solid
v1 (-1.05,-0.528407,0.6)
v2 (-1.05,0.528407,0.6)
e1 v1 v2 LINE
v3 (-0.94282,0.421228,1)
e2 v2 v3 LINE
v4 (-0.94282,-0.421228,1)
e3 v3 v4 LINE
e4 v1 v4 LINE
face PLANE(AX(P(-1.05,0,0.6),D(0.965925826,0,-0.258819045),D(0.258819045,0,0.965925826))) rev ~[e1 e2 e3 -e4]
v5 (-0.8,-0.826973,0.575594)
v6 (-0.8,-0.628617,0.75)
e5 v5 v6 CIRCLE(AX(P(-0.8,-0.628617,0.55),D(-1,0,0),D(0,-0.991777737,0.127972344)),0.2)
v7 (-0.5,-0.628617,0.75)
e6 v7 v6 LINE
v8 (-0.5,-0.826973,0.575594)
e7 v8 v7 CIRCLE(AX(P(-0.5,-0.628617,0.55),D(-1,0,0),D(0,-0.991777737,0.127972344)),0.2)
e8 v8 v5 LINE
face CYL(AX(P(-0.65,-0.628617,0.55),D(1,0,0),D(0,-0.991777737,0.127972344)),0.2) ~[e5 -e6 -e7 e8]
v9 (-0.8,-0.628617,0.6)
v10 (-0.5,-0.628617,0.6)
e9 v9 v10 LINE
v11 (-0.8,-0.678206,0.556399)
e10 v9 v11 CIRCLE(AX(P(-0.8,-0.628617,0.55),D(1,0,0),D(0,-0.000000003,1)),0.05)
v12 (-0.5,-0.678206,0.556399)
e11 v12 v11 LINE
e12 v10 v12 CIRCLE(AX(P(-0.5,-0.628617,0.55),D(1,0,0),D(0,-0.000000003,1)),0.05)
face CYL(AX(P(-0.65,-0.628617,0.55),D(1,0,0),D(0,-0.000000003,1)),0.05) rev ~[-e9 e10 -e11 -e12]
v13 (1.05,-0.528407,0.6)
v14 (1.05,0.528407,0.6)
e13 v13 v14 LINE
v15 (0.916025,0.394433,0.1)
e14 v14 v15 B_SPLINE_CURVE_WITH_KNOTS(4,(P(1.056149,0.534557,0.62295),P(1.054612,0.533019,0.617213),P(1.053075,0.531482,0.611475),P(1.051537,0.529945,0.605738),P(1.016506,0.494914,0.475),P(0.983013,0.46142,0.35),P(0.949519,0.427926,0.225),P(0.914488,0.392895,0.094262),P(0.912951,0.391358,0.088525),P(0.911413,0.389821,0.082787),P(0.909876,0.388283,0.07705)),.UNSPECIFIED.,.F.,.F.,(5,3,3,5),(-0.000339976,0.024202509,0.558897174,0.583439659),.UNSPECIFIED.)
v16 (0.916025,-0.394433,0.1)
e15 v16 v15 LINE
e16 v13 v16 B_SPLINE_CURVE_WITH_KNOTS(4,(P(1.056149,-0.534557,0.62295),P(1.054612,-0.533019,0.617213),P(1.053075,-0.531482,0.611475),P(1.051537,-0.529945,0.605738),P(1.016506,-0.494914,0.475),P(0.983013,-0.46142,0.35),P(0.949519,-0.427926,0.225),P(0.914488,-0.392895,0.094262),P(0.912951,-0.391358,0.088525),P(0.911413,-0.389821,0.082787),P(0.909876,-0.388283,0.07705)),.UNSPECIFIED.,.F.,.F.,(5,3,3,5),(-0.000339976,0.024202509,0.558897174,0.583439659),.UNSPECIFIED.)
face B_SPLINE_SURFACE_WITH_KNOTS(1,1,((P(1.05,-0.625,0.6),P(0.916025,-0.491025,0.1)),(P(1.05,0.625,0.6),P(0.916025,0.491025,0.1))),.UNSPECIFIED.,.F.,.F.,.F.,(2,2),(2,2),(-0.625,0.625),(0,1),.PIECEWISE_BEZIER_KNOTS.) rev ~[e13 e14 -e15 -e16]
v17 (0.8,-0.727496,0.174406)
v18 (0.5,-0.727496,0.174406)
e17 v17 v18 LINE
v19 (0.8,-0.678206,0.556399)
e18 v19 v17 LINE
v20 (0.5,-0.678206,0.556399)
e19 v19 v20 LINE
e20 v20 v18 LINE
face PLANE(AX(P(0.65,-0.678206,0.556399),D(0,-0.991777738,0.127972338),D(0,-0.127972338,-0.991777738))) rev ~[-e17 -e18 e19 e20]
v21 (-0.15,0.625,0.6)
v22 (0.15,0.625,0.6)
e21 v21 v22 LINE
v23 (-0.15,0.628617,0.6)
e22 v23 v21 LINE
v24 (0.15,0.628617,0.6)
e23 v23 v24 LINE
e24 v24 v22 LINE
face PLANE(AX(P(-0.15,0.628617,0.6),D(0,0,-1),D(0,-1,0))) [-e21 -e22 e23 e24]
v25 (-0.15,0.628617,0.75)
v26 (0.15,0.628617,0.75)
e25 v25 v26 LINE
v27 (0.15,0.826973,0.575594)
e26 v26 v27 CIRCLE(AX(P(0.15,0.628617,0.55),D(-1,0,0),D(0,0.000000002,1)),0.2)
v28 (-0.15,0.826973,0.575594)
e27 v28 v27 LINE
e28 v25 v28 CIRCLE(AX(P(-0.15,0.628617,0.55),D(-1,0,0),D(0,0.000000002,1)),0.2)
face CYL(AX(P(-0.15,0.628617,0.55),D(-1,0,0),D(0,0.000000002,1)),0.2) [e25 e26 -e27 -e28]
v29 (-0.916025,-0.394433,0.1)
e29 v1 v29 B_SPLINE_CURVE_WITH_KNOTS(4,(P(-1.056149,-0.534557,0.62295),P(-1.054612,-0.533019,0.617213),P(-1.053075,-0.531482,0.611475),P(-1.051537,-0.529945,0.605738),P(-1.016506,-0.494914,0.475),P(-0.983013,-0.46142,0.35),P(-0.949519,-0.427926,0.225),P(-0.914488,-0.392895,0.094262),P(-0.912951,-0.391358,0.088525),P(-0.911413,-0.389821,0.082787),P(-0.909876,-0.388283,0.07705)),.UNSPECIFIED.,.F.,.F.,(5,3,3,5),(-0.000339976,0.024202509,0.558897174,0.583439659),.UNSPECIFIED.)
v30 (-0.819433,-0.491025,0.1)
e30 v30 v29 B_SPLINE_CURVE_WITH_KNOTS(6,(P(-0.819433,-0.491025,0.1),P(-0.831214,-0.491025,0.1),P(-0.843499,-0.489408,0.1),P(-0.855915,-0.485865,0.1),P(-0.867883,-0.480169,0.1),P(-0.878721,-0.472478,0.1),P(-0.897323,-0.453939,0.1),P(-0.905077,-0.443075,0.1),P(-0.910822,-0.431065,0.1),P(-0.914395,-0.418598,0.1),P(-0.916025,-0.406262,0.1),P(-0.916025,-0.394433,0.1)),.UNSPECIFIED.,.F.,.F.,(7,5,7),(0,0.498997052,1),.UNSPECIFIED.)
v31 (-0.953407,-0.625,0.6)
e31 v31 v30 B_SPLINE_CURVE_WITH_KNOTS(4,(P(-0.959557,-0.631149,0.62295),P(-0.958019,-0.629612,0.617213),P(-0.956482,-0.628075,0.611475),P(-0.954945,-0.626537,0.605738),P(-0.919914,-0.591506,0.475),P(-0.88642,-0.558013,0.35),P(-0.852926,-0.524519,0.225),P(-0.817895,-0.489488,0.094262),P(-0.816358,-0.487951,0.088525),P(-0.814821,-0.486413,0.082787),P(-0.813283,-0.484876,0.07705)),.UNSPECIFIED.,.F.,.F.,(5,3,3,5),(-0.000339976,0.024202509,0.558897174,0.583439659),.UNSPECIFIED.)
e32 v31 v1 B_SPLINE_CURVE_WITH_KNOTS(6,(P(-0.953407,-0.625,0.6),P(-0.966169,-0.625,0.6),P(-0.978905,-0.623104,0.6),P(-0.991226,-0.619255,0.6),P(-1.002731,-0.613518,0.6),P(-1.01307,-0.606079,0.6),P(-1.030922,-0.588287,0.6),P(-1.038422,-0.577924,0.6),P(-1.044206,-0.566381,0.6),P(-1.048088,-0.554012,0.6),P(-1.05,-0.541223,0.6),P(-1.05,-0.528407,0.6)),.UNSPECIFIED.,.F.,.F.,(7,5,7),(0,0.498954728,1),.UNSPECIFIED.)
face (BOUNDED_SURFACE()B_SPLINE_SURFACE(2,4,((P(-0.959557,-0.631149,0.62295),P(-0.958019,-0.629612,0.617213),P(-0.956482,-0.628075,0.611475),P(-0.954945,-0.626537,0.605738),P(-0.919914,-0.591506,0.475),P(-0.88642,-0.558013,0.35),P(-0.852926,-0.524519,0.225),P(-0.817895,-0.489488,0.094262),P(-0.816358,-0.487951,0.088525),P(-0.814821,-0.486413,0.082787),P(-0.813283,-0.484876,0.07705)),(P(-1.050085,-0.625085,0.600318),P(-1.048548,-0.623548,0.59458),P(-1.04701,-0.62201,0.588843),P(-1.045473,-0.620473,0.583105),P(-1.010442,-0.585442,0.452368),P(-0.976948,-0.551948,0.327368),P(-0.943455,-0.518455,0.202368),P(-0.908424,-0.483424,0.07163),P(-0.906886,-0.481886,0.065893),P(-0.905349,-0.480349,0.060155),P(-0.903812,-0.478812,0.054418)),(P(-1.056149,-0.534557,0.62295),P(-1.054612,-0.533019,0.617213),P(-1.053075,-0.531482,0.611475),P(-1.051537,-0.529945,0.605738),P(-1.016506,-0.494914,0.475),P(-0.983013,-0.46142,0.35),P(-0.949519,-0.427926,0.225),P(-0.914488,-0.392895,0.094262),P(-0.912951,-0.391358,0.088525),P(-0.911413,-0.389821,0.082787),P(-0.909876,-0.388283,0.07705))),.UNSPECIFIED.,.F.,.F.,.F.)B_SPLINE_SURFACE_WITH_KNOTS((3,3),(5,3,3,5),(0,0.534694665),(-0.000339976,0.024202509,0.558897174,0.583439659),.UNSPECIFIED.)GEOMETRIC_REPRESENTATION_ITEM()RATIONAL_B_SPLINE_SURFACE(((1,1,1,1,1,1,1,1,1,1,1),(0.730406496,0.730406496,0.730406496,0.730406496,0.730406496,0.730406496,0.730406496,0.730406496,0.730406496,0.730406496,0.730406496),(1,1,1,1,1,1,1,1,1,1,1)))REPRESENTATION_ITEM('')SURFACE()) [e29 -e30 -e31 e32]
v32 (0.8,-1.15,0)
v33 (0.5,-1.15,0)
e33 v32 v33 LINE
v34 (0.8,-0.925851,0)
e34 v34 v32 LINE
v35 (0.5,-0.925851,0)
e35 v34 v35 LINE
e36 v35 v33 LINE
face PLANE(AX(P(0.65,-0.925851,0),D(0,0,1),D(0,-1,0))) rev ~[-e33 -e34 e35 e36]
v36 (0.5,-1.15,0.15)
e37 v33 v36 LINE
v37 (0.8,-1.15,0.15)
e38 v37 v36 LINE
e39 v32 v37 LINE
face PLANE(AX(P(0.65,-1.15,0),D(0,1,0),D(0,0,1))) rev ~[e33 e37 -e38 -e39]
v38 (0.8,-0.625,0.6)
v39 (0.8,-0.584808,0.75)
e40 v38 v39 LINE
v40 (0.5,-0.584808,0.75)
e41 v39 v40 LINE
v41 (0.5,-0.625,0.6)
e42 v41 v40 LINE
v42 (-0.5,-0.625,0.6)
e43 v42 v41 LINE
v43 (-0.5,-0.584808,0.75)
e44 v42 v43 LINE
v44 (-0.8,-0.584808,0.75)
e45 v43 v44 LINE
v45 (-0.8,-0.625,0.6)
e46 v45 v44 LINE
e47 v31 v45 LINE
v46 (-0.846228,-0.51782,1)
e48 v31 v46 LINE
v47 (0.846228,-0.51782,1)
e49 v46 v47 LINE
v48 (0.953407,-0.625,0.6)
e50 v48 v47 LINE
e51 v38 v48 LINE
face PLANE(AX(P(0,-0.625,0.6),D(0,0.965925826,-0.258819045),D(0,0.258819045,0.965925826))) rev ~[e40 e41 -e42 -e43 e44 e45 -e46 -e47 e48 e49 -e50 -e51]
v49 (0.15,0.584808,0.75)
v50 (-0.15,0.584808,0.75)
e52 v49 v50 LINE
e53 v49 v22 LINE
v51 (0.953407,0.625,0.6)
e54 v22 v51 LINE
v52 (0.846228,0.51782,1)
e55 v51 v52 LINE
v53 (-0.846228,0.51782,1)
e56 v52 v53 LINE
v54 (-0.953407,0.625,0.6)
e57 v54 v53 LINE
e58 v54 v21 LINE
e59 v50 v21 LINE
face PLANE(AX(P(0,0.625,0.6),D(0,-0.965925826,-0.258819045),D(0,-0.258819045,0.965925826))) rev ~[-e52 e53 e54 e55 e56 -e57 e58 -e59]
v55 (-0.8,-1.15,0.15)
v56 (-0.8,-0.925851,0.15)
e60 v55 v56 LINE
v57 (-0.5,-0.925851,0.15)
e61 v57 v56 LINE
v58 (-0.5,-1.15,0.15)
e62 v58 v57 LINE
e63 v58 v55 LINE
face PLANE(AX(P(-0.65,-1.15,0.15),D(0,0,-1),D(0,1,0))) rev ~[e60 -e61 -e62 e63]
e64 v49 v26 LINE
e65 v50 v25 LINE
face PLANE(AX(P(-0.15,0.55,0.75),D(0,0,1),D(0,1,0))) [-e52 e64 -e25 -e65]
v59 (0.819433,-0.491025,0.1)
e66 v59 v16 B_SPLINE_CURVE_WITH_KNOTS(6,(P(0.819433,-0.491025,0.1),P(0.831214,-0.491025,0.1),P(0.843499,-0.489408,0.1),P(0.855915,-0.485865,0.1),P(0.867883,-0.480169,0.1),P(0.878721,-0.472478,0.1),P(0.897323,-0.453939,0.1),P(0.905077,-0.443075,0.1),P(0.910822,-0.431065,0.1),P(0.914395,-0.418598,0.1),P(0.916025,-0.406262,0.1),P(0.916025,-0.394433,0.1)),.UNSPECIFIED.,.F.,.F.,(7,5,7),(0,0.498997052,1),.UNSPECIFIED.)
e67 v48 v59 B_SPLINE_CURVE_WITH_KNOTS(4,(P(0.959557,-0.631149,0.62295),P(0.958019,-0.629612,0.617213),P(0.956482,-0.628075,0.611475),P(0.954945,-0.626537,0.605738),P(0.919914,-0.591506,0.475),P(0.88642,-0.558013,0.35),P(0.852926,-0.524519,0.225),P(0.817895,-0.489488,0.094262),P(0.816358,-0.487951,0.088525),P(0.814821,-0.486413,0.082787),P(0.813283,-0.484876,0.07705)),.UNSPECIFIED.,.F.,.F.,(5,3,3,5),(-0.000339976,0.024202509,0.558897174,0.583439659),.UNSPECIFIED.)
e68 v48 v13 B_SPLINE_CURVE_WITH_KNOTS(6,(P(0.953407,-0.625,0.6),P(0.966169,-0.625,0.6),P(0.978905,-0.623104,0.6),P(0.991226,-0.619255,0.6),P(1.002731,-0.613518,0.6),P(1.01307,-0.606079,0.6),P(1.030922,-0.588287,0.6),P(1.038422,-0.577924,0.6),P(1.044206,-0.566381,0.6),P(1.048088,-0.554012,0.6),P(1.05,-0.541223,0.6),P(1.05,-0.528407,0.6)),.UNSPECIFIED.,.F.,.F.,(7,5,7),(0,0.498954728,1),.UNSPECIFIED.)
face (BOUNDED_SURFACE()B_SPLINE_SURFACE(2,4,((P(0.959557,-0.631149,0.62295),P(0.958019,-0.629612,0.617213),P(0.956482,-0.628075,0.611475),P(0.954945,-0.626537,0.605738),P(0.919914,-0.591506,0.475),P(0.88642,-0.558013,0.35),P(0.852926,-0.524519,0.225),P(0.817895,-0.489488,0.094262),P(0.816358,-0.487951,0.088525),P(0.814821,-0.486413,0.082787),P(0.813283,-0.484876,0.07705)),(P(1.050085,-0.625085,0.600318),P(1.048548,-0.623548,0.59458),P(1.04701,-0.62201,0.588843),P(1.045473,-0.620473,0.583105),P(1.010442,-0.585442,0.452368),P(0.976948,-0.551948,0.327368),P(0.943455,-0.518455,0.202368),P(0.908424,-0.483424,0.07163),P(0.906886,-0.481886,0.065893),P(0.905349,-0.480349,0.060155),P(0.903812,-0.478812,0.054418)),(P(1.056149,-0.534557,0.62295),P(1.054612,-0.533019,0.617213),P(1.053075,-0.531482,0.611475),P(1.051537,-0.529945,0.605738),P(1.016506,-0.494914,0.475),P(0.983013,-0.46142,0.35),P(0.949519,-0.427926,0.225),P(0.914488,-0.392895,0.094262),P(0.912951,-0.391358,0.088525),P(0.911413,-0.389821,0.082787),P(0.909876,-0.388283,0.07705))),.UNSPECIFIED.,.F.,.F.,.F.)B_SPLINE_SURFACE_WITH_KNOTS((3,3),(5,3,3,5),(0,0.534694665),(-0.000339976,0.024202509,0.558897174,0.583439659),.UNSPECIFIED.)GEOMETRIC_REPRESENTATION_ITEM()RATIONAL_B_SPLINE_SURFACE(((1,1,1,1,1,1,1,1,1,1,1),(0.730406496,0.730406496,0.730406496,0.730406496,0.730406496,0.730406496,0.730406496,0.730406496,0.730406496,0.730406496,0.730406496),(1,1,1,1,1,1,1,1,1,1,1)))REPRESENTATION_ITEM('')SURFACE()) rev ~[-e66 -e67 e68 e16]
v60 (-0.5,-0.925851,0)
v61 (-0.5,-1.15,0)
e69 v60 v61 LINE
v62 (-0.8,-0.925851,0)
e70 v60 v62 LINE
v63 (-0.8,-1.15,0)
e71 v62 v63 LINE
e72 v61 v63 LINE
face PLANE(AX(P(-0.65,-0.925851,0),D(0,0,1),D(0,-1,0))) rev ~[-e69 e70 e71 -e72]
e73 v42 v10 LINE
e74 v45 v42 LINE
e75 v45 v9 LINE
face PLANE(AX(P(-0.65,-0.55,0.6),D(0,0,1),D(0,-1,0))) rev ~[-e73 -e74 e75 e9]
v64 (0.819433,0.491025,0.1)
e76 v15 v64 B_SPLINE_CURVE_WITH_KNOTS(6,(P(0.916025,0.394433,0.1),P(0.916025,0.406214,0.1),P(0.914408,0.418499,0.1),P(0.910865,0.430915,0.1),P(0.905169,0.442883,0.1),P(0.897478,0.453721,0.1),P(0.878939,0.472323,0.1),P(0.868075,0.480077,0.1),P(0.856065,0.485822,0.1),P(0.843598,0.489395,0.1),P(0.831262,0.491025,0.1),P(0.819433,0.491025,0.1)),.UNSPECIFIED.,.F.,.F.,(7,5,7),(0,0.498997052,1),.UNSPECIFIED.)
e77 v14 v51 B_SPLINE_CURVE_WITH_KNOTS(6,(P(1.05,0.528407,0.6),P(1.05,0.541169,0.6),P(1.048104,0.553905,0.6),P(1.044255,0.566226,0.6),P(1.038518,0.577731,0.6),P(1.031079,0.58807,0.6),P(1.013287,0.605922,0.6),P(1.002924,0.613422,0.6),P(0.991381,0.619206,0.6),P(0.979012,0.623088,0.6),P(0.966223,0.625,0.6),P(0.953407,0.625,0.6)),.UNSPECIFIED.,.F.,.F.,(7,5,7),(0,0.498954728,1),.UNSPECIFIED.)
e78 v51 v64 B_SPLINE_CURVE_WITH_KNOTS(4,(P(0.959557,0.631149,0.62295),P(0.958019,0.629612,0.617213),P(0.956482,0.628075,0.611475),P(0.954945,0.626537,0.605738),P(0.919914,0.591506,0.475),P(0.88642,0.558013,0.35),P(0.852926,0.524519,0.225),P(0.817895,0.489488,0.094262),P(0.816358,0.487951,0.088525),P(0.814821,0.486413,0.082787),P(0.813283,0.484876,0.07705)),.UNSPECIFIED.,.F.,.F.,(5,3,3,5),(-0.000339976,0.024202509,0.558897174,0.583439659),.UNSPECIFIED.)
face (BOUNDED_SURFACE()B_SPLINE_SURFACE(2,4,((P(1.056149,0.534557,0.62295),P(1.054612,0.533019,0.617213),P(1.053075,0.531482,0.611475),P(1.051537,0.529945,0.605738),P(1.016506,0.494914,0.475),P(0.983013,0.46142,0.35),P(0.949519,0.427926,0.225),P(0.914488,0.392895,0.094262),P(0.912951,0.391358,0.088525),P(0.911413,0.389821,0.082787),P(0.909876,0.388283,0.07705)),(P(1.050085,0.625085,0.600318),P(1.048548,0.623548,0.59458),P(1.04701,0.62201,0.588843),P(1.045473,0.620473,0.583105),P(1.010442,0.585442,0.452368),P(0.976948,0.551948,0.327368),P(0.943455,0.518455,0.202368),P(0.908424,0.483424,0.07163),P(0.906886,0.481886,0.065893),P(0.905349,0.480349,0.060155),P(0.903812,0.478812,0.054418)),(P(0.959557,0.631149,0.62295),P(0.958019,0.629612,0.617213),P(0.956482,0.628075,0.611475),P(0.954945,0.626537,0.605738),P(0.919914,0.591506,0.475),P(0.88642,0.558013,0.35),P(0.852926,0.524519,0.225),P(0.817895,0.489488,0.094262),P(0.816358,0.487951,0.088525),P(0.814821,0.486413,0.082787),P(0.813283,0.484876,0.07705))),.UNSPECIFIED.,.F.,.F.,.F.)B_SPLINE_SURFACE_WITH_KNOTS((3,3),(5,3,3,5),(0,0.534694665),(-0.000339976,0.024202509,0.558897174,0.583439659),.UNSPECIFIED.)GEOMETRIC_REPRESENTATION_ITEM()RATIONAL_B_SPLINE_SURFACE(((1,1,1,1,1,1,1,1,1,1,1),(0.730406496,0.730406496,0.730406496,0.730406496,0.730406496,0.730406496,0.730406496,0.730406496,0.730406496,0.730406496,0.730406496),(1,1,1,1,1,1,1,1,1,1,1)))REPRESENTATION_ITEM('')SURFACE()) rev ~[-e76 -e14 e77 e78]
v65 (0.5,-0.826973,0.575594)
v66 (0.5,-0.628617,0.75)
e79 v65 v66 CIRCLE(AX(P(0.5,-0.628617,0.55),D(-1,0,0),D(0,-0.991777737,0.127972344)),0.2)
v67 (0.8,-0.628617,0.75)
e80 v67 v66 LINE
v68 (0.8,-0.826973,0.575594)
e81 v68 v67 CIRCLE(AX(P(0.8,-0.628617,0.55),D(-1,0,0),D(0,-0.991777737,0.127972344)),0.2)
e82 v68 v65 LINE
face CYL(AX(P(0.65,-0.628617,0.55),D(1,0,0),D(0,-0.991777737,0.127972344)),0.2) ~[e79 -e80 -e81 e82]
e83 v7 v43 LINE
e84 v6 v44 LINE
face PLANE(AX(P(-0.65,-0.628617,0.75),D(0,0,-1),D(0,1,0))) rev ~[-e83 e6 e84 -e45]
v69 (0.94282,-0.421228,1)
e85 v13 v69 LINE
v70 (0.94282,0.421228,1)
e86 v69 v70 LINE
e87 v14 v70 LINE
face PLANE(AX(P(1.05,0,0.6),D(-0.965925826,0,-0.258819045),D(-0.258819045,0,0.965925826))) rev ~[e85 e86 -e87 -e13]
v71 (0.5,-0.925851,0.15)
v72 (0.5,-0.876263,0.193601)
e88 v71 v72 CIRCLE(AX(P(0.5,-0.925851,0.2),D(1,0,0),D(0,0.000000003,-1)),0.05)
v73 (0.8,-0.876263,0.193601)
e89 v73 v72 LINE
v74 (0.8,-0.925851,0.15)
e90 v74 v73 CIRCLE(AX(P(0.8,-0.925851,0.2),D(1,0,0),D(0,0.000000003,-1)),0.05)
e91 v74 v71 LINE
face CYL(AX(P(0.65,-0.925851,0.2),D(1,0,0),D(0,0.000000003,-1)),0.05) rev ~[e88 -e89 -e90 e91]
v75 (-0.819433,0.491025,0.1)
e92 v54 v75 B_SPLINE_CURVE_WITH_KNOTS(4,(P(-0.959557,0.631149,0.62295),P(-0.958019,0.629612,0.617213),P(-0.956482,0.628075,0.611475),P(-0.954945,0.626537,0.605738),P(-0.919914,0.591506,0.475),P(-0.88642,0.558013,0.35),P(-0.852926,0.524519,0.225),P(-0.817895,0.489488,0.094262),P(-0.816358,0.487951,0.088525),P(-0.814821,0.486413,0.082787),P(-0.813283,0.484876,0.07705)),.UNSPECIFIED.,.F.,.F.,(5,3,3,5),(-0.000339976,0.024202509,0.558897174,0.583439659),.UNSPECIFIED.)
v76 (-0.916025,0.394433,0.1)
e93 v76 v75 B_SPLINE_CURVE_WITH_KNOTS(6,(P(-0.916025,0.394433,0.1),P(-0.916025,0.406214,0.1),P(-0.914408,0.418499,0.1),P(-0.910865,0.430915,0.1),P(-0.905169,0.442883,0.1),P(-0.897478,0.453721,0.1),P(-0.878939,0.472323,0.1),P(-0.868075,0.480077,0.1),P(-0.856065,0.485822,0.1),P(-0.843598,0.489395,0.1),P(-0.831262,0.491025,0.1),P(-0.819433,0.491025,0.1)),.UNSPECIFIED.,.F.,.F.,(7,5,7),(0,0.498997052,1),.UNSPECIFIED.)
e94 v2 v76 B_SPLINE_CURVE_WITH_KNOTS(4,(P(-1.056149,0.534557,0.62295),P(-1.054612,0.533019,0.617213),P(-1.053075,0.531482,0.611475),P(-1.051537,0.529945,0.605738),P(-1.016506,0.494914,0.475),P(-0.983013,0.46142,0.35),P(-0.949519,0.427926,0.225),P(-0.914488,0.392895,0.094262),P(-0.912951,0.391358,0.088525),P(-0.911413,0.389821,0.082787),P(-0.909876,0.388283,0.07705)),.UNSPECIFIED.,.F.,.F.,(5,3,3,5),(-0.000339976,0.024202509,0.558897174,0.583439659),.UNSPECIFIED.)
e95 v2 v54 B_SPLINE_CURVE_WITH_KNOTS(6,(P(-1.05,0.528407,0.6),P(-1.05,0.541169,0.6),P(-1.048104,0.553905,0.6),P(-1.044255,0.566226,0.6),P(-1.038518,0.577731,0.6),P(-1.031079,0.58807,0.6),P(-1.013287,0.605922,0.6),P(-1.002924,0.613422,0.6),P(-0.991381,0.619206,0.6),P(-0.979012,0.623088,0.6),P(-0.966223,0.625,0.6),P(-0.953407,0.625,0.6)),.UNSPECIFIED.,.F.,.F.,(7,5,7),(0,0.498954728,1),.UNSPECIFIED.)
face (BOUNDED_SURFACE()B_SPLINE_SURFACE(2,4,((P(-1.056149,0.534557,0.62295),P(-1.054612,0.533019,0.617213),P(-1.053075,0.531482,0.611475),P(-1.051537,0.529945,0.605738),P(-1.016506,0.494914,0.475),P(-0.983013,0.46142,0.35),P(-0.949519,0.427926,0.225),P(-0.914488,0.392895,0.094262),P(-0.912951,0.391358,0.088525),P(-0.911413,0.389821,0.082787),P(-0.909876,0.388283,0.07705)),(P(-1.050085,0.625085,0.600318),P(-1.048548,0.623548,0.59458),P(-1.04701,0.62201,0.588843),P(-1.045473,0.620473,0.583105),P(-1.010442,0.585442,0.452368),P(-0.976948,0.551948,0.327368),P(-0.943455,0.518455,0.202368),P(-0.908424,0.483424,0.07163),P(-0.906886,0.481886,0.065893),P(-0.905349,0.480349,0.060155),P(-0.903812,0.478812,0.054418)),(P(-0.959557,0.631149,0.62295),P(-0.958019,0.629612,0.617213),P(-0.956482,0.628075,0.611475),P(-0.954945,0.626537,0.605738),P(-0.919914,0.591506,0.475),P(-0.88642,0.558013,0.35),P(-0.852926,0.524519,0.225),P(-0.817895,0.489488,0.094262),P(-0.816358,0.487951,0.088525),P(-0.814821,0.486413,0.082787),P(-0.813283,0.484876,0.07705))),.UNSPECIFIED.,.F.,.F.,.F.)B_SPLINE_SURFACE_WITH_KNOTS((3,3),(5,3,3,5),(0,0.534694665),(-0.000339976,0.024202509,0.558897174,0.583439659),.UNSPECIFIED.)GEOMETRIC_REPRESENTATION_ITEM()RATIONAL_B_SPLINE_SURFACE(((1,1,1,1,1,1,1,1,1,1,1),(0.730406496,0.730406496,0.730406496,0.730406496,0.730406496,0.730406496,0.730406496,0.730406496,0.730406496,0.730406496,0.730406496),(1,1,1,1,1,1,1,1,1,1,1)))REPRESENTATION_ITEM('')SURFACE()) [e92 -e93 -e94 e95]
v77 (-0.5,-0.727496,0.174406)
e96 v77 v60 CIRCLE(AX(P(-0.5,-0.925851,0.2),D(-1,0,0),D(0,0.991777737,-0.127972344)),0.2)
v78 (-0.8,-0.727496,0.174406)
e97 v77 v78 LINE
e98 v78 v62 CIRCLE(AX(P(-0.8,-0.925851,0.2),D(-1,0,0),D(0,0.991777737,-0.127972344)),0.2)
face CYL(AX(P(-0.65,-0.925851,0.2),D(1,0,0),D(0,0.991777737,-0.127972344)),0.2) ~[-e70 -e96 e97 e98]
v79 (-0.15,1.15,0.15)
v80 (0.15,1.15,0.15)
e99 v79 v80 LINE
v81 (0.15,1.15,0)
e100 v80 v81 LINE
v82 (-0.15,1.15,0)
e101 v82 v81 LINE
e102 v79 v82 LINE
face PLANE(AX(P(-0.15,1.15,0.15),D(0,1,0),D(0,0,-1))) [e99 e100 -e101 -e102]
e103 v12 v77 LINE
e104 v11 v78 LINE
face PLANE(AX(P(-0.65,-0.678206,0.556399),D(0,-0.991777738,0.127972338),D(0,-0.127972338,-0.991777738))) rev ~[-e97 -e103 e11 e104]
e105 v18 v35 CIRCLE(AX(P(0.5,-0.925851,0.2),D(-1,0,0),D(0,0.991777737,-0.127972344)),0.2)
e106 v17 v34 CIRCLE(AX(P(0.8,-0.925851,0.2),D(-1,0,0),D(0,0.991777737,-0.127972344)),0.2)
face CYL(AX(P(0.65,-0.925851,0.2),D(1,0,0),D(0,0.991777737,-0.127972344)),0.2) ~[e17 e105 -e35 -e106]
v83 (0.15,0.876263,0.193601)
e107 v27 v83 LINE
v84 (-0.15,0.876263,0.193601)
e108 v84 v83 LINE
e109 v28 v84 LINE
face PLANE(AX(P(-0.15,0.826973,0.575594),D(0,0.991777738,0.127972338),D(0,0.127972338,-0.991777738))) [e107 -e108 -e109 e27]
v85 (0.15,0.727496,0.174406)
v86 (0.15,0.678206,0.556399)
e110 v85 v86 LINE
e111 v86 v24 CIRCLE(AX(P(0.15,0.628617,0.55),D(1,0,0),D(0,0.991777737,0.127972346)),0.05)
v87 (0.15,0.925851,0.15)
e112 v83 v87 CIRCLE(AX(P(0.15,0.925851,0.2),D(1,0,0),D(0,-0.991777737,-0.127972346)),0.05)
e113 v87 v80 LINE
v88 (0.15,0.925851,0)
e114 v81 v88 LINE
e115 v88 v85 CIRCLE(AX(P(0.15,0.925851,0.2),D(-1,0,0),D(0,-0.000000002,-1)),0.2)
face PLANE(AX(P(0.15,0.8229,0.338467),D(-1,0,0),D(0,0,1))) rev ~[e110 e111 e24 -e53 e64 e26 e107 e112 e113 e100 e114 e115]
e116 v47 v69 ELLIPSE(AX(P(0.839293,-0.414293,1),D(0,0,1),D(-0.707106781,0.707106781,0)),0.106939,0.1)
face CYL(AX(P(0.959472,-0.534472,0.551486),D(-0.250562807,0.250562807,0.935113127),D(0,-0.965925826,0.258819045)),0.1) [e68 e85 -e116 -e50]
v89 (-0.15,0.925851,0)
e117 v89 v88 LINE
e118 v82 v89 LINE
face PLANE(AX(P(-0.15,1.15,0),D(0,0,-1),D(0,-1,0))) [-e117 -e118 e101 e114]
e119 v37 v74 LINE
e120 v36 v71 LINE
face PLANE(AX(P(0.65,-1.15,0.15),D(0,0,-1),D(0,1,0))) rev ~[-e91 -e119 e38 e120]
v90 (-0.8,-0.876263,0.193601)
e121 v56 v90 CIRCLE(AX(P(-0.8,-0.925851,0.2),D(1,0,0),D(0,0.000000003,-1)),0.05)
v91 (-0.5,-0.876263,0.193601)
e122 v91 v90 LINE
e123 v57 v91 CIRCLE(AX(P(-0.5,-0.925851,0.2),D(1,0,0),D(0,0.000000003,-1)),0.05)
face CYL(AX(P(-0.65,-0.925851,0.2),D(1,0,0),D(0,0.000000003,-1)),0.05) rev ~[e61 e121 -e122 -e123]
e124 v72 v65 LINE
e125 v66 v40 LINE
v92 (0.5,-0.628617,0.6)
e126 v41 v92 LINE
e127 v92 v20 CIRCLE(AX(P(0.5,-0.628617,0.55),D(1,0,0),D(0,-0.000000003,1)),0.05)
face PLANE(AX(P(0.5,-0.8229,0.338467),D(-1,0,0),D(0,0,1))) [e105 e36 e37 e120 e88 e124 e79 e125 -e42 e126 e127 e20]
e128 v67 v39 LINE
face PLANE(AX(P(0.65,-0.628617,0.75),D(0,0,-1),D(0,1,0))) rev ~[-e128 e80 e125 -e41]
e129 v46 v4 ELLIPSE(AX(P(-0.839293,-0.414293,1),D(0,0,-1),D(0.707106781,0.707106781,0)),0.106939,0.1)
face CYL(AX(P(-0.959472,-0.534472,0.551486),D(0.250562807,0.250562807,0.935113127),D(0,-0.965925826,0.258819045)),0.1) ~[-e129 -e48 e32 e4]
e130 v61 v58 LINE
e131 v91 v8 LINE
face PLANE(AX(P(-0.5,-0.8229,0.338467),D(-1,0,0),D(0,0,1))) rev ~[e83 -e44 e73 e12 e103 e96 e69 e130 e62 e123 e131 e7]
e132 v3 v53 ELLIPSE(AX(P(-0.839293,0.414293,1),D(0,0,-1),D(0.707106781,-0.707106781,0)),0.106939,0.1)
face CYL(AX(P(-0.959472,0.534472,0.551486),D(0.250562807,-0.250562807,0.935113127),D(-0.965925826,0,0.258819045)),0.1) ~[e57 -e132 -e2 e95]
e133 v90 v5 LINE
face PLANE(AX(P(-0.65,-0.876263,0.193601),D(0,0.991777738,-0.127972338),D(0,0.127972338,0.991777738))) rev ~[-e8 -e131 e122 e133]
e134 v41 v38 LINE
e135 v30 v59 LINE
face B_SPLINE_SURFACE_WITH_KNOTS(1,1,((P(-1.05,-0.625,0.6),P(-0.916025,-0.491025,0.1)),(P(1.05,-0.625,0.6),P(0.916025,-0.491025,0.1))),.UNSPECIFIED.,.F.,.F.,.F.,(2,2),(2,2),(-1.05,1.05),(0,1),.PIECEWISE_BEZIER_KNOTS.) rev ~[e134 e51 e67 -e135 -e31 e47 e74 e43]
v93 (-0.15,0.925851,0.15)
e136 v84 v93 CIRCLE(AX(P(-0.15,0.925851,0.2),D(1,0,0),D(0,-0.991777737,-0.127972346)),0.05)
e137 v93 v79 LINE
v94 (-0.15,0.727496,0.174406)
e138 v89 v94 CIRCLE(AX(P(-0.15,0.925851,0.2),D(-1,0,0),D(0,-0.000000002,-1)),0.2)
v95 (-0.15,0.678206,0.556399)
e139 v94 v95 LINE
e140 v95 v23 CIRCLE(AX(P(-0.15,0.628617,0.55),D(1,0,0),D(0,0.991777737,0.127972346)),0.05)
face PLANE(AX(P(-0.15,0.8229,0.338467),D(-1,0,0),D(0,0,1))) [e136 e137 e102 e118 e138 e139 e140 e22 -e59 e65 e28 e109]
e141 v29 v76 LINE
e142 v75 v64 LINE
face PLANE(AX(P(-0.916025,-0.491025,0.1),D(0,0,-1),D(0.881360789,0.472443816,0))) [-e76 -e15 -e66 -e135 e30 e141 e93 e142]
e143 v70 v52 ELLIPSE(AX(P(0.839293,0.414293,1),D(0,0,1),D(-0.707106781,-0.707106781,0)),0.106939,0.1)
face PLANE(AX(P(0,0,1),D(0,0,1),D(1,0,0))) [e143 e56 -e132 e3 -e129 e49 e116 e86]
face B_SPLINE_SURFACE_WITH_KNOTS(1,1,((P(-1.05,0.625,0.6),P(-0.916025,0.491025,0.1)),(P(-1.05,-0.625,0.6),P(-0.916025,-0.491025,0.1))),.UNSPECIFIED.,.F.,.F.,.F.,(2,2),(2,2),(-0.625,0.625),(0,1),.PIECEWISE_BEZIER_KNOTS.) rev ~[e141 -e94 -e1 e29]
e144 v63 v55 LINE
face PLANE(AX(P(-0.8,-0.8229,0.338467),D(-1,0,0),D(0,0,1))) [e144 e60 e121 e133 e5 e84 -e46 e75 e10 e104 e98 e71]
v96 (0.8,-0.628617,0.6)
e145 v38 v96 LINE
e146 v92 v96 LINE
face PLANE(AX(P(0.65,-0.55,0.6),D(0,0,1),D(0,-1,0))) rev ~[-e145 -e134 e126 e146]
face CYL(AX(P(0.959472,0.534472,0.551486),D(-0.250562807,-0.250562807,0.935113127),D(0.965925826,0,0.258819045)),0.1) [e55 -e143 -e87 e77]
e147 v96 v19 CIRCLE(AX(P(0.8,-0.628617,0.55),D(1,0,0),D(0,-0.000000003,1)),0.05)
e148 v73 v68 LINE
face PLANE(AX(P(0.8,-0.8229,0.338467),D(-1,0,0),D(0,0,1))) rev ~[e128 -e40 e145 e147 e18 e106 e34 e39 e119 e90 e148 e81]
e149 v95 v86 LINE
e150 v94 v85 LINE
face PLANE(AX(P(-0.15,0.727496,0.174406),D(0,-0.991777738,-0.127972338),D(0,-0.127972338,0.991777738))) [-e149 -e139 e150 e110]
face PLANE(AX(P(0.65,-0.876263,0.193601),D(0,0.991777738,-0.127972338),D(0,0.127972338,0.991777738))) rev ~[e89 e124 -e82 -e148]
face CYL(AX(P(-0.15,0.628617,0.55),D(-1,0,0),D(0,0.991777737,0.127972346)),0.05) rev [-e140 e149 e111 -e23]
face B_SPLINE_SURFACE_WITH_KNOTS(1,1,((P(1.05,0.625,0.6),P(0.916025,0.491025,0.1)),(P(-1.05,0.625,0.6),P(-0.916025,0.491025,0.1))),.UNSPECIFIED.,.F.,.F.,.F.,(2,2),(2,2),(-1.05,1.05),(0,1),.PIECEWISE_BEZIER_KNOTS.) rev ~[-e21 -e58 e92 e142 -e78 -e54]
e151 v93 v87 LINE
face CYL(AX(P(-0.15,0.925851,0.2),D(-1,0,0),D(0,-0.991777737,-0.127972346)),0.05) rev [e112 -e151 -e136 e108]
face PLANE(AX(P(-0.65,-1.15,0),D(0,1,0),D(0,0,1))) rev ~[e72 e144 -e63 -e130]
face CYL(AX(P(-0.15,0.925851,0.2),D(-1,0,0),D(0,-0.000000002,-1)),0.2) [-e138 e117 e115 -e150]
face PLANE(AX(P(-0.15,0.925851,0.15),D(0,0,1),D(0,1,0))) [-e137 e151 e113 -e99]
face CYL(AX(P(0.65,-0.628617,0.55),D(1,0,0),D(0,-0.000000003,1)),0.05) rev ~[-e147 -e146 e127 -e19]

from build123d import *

# Parameters (mm, degrees)
EXTRUDE_START             = 0.6
SKETCH_1_W                = 2.1
SKETCH_1_H                = 1.25
EXTRUDE_1_DEPTH           = 0.4
EXTRUDE_1_TAPER           = 15
EXTRUDE_1_OTHER_WAY_DEPTH = 0.5
EXTRUDE_1_OTHER_WAY_TAPER = 15
EXTRUDE_START_2           = -0.15
EXTRUDE_4_DEPTH           = 0.3
EXTRUDE_START_3           = 0.65
EXTRUDE_5_DEPTH           = 0.15
PATTERN_LINEAR_2_COUNT    = 2
PATTERN_LINEAR_2_PITCH    = 1.3
FILLET_3_R                = 0.1


with BuildPart() as part:
    # Эскиз1 → Вытянуть1 (new body)
    with BuildSketch(Plane.XY.offset(EXTRUDE_START)):
        Rectangle(SKETCH_1_W, SKETCH_1_H)
    extrude(amount=EXTRUDE_1_DEPTH, taper=EXTRUDE_1_TAPER)

    # Эскиз1 → Вытянуть1 other way (add)
    with BuildSketch(Plane.XY.offset(EXTRUDE_START)):
        Rectangle(SKETCH_1_W, SKETCH_1_H)
    extrude(amount=-EXTRUDE_1_OTHER_WAY_DEPTH, taper=EXTRUDE_1_OTHER_WAY_TAPER)

    # Эскиз2 → Вытянуть4 (add)
    with BuildSketch(Plane(origin=(0, 0, 0), x_dir=(0, 0, -1), z_dir=(1, 0, 0)).offset(EXTRUDE_START_2)):
        with BuildLine():
            Line((-0.6, 0.55), (-0.75, 0.55))
            Line((-0.75, 0.55), (-0.75, 0.628617172))
            ThreePointArc((-0.75, 0.628617172), (-0.700198025, 0.760679859), (-0.575594468, 0.82697272))
            Line((-0.575594468, 0.82697272), (-0.193601383, 0.876262542))
            ThreePointArc((-0.193601383, 0.876262542), (-0.162450494, 0.892835757), (-0.15, 0.925851429))
            Line((-0.15, 0.925851429), (-0.15, 1.15))
            Line((-0.15, 1.15), (0, 1.15))
            Line((0, 1.15), (0, 0.925851429))
            ThreePointArc((0, 0.925851429), (-0.049801975, 0.793788742), (-0.174405532, 0.727495881))
            Line((-0.174405532, 0.727495881), (-0.556398617, 0.678206059))
            ThreePointArc((-0.556398617, 0.678206059), (-0.587549506, 0.661632844), (-0.6, 0.628617172))
            Line((-0.6, 0.628617172), (-0.6, 0.55))
        make_face()
    extrude(amount=EXTRUDE_4_DEPTH)

    # Эскиз2<4> → Вытянуть5 (add, symmetric)
    with BuildSketch(Plane(origin=(0, 0, 0), x_dir=(0, 0, -1), z_dir=(1, 0, 0)).offset(EXTRUDE_START_3)):
        with BuildLine():
            ThreePointArc((-0.6, -0.628617172), (-0.587549506, -0.661632844), (-0.556398617, -0.678206059))
            Line((-0.556398617, -0.678206059), (-0.174405532, -0.727495881))
            ThreePointArc((-0.174405532, -0.727495881), (-0.049801975, -0.793788742), (0, -0.925851429))
            Line((0, -0.925851429), (0, -1.15))
            Line((0, -1.15), (-0.15, -1.15))
            Line((-0.15, -1.15), (-0.15, -0.925851429))
            ThreePointArc((-0.15, -0.925851429), (-0.162450494, -0.892835757), (-0.193601383, -0.876262542))
            Line((-0.193601383, -0.876262542), (-0.575594468, -0.82697272))
            ThreePointArc((-0.575594468, -0.82697272), (-0.700198025, -0.760679859), (-0.75, -0.628617172))
            Line((-0.75, -0.628617172), (-0.75, -0.55))
            Line((-0.75, -0.55), (-0.6, -0.55))
            Line((-0.6, -0.55), (-0.6, -0.628617172))
        make_face()
    extrude_5 = extrude(amount=EXTRUDE_5_DEPTH, both=True)

    # Линейный массив2: Вытянуть5 ×2
    with Locations(*[(-i * PATTERN_LINEAR_2_PITCH, 0, 0) for i in range(1, PATTERN_LINEAR_2_COUNT)]):
        add(extrude_5)

    # Скругление3
    fillet_3_edges = [part.edges().sort_by_distance(p)[0] for p in [
        (0.996410162, -0.571410162, 0.8),
        (0.996410162, 0.571410162, 0.8),
        (-0.996410162, 0.571410162, 0.8),
        (-0.996410162, -0.571410162, 0.8),
        (0.983012702, -0.558012702, 0.35),
        (-0.983012702, -0.558012702, 0.35),
        (-0.983012702, 0.558012702, 0.35),
        (0.983012702, 0.558012702, 0.35),
    ]]
    fillet(fillet_3_edges, radius=FILLET_3_R)


solid = part.part
